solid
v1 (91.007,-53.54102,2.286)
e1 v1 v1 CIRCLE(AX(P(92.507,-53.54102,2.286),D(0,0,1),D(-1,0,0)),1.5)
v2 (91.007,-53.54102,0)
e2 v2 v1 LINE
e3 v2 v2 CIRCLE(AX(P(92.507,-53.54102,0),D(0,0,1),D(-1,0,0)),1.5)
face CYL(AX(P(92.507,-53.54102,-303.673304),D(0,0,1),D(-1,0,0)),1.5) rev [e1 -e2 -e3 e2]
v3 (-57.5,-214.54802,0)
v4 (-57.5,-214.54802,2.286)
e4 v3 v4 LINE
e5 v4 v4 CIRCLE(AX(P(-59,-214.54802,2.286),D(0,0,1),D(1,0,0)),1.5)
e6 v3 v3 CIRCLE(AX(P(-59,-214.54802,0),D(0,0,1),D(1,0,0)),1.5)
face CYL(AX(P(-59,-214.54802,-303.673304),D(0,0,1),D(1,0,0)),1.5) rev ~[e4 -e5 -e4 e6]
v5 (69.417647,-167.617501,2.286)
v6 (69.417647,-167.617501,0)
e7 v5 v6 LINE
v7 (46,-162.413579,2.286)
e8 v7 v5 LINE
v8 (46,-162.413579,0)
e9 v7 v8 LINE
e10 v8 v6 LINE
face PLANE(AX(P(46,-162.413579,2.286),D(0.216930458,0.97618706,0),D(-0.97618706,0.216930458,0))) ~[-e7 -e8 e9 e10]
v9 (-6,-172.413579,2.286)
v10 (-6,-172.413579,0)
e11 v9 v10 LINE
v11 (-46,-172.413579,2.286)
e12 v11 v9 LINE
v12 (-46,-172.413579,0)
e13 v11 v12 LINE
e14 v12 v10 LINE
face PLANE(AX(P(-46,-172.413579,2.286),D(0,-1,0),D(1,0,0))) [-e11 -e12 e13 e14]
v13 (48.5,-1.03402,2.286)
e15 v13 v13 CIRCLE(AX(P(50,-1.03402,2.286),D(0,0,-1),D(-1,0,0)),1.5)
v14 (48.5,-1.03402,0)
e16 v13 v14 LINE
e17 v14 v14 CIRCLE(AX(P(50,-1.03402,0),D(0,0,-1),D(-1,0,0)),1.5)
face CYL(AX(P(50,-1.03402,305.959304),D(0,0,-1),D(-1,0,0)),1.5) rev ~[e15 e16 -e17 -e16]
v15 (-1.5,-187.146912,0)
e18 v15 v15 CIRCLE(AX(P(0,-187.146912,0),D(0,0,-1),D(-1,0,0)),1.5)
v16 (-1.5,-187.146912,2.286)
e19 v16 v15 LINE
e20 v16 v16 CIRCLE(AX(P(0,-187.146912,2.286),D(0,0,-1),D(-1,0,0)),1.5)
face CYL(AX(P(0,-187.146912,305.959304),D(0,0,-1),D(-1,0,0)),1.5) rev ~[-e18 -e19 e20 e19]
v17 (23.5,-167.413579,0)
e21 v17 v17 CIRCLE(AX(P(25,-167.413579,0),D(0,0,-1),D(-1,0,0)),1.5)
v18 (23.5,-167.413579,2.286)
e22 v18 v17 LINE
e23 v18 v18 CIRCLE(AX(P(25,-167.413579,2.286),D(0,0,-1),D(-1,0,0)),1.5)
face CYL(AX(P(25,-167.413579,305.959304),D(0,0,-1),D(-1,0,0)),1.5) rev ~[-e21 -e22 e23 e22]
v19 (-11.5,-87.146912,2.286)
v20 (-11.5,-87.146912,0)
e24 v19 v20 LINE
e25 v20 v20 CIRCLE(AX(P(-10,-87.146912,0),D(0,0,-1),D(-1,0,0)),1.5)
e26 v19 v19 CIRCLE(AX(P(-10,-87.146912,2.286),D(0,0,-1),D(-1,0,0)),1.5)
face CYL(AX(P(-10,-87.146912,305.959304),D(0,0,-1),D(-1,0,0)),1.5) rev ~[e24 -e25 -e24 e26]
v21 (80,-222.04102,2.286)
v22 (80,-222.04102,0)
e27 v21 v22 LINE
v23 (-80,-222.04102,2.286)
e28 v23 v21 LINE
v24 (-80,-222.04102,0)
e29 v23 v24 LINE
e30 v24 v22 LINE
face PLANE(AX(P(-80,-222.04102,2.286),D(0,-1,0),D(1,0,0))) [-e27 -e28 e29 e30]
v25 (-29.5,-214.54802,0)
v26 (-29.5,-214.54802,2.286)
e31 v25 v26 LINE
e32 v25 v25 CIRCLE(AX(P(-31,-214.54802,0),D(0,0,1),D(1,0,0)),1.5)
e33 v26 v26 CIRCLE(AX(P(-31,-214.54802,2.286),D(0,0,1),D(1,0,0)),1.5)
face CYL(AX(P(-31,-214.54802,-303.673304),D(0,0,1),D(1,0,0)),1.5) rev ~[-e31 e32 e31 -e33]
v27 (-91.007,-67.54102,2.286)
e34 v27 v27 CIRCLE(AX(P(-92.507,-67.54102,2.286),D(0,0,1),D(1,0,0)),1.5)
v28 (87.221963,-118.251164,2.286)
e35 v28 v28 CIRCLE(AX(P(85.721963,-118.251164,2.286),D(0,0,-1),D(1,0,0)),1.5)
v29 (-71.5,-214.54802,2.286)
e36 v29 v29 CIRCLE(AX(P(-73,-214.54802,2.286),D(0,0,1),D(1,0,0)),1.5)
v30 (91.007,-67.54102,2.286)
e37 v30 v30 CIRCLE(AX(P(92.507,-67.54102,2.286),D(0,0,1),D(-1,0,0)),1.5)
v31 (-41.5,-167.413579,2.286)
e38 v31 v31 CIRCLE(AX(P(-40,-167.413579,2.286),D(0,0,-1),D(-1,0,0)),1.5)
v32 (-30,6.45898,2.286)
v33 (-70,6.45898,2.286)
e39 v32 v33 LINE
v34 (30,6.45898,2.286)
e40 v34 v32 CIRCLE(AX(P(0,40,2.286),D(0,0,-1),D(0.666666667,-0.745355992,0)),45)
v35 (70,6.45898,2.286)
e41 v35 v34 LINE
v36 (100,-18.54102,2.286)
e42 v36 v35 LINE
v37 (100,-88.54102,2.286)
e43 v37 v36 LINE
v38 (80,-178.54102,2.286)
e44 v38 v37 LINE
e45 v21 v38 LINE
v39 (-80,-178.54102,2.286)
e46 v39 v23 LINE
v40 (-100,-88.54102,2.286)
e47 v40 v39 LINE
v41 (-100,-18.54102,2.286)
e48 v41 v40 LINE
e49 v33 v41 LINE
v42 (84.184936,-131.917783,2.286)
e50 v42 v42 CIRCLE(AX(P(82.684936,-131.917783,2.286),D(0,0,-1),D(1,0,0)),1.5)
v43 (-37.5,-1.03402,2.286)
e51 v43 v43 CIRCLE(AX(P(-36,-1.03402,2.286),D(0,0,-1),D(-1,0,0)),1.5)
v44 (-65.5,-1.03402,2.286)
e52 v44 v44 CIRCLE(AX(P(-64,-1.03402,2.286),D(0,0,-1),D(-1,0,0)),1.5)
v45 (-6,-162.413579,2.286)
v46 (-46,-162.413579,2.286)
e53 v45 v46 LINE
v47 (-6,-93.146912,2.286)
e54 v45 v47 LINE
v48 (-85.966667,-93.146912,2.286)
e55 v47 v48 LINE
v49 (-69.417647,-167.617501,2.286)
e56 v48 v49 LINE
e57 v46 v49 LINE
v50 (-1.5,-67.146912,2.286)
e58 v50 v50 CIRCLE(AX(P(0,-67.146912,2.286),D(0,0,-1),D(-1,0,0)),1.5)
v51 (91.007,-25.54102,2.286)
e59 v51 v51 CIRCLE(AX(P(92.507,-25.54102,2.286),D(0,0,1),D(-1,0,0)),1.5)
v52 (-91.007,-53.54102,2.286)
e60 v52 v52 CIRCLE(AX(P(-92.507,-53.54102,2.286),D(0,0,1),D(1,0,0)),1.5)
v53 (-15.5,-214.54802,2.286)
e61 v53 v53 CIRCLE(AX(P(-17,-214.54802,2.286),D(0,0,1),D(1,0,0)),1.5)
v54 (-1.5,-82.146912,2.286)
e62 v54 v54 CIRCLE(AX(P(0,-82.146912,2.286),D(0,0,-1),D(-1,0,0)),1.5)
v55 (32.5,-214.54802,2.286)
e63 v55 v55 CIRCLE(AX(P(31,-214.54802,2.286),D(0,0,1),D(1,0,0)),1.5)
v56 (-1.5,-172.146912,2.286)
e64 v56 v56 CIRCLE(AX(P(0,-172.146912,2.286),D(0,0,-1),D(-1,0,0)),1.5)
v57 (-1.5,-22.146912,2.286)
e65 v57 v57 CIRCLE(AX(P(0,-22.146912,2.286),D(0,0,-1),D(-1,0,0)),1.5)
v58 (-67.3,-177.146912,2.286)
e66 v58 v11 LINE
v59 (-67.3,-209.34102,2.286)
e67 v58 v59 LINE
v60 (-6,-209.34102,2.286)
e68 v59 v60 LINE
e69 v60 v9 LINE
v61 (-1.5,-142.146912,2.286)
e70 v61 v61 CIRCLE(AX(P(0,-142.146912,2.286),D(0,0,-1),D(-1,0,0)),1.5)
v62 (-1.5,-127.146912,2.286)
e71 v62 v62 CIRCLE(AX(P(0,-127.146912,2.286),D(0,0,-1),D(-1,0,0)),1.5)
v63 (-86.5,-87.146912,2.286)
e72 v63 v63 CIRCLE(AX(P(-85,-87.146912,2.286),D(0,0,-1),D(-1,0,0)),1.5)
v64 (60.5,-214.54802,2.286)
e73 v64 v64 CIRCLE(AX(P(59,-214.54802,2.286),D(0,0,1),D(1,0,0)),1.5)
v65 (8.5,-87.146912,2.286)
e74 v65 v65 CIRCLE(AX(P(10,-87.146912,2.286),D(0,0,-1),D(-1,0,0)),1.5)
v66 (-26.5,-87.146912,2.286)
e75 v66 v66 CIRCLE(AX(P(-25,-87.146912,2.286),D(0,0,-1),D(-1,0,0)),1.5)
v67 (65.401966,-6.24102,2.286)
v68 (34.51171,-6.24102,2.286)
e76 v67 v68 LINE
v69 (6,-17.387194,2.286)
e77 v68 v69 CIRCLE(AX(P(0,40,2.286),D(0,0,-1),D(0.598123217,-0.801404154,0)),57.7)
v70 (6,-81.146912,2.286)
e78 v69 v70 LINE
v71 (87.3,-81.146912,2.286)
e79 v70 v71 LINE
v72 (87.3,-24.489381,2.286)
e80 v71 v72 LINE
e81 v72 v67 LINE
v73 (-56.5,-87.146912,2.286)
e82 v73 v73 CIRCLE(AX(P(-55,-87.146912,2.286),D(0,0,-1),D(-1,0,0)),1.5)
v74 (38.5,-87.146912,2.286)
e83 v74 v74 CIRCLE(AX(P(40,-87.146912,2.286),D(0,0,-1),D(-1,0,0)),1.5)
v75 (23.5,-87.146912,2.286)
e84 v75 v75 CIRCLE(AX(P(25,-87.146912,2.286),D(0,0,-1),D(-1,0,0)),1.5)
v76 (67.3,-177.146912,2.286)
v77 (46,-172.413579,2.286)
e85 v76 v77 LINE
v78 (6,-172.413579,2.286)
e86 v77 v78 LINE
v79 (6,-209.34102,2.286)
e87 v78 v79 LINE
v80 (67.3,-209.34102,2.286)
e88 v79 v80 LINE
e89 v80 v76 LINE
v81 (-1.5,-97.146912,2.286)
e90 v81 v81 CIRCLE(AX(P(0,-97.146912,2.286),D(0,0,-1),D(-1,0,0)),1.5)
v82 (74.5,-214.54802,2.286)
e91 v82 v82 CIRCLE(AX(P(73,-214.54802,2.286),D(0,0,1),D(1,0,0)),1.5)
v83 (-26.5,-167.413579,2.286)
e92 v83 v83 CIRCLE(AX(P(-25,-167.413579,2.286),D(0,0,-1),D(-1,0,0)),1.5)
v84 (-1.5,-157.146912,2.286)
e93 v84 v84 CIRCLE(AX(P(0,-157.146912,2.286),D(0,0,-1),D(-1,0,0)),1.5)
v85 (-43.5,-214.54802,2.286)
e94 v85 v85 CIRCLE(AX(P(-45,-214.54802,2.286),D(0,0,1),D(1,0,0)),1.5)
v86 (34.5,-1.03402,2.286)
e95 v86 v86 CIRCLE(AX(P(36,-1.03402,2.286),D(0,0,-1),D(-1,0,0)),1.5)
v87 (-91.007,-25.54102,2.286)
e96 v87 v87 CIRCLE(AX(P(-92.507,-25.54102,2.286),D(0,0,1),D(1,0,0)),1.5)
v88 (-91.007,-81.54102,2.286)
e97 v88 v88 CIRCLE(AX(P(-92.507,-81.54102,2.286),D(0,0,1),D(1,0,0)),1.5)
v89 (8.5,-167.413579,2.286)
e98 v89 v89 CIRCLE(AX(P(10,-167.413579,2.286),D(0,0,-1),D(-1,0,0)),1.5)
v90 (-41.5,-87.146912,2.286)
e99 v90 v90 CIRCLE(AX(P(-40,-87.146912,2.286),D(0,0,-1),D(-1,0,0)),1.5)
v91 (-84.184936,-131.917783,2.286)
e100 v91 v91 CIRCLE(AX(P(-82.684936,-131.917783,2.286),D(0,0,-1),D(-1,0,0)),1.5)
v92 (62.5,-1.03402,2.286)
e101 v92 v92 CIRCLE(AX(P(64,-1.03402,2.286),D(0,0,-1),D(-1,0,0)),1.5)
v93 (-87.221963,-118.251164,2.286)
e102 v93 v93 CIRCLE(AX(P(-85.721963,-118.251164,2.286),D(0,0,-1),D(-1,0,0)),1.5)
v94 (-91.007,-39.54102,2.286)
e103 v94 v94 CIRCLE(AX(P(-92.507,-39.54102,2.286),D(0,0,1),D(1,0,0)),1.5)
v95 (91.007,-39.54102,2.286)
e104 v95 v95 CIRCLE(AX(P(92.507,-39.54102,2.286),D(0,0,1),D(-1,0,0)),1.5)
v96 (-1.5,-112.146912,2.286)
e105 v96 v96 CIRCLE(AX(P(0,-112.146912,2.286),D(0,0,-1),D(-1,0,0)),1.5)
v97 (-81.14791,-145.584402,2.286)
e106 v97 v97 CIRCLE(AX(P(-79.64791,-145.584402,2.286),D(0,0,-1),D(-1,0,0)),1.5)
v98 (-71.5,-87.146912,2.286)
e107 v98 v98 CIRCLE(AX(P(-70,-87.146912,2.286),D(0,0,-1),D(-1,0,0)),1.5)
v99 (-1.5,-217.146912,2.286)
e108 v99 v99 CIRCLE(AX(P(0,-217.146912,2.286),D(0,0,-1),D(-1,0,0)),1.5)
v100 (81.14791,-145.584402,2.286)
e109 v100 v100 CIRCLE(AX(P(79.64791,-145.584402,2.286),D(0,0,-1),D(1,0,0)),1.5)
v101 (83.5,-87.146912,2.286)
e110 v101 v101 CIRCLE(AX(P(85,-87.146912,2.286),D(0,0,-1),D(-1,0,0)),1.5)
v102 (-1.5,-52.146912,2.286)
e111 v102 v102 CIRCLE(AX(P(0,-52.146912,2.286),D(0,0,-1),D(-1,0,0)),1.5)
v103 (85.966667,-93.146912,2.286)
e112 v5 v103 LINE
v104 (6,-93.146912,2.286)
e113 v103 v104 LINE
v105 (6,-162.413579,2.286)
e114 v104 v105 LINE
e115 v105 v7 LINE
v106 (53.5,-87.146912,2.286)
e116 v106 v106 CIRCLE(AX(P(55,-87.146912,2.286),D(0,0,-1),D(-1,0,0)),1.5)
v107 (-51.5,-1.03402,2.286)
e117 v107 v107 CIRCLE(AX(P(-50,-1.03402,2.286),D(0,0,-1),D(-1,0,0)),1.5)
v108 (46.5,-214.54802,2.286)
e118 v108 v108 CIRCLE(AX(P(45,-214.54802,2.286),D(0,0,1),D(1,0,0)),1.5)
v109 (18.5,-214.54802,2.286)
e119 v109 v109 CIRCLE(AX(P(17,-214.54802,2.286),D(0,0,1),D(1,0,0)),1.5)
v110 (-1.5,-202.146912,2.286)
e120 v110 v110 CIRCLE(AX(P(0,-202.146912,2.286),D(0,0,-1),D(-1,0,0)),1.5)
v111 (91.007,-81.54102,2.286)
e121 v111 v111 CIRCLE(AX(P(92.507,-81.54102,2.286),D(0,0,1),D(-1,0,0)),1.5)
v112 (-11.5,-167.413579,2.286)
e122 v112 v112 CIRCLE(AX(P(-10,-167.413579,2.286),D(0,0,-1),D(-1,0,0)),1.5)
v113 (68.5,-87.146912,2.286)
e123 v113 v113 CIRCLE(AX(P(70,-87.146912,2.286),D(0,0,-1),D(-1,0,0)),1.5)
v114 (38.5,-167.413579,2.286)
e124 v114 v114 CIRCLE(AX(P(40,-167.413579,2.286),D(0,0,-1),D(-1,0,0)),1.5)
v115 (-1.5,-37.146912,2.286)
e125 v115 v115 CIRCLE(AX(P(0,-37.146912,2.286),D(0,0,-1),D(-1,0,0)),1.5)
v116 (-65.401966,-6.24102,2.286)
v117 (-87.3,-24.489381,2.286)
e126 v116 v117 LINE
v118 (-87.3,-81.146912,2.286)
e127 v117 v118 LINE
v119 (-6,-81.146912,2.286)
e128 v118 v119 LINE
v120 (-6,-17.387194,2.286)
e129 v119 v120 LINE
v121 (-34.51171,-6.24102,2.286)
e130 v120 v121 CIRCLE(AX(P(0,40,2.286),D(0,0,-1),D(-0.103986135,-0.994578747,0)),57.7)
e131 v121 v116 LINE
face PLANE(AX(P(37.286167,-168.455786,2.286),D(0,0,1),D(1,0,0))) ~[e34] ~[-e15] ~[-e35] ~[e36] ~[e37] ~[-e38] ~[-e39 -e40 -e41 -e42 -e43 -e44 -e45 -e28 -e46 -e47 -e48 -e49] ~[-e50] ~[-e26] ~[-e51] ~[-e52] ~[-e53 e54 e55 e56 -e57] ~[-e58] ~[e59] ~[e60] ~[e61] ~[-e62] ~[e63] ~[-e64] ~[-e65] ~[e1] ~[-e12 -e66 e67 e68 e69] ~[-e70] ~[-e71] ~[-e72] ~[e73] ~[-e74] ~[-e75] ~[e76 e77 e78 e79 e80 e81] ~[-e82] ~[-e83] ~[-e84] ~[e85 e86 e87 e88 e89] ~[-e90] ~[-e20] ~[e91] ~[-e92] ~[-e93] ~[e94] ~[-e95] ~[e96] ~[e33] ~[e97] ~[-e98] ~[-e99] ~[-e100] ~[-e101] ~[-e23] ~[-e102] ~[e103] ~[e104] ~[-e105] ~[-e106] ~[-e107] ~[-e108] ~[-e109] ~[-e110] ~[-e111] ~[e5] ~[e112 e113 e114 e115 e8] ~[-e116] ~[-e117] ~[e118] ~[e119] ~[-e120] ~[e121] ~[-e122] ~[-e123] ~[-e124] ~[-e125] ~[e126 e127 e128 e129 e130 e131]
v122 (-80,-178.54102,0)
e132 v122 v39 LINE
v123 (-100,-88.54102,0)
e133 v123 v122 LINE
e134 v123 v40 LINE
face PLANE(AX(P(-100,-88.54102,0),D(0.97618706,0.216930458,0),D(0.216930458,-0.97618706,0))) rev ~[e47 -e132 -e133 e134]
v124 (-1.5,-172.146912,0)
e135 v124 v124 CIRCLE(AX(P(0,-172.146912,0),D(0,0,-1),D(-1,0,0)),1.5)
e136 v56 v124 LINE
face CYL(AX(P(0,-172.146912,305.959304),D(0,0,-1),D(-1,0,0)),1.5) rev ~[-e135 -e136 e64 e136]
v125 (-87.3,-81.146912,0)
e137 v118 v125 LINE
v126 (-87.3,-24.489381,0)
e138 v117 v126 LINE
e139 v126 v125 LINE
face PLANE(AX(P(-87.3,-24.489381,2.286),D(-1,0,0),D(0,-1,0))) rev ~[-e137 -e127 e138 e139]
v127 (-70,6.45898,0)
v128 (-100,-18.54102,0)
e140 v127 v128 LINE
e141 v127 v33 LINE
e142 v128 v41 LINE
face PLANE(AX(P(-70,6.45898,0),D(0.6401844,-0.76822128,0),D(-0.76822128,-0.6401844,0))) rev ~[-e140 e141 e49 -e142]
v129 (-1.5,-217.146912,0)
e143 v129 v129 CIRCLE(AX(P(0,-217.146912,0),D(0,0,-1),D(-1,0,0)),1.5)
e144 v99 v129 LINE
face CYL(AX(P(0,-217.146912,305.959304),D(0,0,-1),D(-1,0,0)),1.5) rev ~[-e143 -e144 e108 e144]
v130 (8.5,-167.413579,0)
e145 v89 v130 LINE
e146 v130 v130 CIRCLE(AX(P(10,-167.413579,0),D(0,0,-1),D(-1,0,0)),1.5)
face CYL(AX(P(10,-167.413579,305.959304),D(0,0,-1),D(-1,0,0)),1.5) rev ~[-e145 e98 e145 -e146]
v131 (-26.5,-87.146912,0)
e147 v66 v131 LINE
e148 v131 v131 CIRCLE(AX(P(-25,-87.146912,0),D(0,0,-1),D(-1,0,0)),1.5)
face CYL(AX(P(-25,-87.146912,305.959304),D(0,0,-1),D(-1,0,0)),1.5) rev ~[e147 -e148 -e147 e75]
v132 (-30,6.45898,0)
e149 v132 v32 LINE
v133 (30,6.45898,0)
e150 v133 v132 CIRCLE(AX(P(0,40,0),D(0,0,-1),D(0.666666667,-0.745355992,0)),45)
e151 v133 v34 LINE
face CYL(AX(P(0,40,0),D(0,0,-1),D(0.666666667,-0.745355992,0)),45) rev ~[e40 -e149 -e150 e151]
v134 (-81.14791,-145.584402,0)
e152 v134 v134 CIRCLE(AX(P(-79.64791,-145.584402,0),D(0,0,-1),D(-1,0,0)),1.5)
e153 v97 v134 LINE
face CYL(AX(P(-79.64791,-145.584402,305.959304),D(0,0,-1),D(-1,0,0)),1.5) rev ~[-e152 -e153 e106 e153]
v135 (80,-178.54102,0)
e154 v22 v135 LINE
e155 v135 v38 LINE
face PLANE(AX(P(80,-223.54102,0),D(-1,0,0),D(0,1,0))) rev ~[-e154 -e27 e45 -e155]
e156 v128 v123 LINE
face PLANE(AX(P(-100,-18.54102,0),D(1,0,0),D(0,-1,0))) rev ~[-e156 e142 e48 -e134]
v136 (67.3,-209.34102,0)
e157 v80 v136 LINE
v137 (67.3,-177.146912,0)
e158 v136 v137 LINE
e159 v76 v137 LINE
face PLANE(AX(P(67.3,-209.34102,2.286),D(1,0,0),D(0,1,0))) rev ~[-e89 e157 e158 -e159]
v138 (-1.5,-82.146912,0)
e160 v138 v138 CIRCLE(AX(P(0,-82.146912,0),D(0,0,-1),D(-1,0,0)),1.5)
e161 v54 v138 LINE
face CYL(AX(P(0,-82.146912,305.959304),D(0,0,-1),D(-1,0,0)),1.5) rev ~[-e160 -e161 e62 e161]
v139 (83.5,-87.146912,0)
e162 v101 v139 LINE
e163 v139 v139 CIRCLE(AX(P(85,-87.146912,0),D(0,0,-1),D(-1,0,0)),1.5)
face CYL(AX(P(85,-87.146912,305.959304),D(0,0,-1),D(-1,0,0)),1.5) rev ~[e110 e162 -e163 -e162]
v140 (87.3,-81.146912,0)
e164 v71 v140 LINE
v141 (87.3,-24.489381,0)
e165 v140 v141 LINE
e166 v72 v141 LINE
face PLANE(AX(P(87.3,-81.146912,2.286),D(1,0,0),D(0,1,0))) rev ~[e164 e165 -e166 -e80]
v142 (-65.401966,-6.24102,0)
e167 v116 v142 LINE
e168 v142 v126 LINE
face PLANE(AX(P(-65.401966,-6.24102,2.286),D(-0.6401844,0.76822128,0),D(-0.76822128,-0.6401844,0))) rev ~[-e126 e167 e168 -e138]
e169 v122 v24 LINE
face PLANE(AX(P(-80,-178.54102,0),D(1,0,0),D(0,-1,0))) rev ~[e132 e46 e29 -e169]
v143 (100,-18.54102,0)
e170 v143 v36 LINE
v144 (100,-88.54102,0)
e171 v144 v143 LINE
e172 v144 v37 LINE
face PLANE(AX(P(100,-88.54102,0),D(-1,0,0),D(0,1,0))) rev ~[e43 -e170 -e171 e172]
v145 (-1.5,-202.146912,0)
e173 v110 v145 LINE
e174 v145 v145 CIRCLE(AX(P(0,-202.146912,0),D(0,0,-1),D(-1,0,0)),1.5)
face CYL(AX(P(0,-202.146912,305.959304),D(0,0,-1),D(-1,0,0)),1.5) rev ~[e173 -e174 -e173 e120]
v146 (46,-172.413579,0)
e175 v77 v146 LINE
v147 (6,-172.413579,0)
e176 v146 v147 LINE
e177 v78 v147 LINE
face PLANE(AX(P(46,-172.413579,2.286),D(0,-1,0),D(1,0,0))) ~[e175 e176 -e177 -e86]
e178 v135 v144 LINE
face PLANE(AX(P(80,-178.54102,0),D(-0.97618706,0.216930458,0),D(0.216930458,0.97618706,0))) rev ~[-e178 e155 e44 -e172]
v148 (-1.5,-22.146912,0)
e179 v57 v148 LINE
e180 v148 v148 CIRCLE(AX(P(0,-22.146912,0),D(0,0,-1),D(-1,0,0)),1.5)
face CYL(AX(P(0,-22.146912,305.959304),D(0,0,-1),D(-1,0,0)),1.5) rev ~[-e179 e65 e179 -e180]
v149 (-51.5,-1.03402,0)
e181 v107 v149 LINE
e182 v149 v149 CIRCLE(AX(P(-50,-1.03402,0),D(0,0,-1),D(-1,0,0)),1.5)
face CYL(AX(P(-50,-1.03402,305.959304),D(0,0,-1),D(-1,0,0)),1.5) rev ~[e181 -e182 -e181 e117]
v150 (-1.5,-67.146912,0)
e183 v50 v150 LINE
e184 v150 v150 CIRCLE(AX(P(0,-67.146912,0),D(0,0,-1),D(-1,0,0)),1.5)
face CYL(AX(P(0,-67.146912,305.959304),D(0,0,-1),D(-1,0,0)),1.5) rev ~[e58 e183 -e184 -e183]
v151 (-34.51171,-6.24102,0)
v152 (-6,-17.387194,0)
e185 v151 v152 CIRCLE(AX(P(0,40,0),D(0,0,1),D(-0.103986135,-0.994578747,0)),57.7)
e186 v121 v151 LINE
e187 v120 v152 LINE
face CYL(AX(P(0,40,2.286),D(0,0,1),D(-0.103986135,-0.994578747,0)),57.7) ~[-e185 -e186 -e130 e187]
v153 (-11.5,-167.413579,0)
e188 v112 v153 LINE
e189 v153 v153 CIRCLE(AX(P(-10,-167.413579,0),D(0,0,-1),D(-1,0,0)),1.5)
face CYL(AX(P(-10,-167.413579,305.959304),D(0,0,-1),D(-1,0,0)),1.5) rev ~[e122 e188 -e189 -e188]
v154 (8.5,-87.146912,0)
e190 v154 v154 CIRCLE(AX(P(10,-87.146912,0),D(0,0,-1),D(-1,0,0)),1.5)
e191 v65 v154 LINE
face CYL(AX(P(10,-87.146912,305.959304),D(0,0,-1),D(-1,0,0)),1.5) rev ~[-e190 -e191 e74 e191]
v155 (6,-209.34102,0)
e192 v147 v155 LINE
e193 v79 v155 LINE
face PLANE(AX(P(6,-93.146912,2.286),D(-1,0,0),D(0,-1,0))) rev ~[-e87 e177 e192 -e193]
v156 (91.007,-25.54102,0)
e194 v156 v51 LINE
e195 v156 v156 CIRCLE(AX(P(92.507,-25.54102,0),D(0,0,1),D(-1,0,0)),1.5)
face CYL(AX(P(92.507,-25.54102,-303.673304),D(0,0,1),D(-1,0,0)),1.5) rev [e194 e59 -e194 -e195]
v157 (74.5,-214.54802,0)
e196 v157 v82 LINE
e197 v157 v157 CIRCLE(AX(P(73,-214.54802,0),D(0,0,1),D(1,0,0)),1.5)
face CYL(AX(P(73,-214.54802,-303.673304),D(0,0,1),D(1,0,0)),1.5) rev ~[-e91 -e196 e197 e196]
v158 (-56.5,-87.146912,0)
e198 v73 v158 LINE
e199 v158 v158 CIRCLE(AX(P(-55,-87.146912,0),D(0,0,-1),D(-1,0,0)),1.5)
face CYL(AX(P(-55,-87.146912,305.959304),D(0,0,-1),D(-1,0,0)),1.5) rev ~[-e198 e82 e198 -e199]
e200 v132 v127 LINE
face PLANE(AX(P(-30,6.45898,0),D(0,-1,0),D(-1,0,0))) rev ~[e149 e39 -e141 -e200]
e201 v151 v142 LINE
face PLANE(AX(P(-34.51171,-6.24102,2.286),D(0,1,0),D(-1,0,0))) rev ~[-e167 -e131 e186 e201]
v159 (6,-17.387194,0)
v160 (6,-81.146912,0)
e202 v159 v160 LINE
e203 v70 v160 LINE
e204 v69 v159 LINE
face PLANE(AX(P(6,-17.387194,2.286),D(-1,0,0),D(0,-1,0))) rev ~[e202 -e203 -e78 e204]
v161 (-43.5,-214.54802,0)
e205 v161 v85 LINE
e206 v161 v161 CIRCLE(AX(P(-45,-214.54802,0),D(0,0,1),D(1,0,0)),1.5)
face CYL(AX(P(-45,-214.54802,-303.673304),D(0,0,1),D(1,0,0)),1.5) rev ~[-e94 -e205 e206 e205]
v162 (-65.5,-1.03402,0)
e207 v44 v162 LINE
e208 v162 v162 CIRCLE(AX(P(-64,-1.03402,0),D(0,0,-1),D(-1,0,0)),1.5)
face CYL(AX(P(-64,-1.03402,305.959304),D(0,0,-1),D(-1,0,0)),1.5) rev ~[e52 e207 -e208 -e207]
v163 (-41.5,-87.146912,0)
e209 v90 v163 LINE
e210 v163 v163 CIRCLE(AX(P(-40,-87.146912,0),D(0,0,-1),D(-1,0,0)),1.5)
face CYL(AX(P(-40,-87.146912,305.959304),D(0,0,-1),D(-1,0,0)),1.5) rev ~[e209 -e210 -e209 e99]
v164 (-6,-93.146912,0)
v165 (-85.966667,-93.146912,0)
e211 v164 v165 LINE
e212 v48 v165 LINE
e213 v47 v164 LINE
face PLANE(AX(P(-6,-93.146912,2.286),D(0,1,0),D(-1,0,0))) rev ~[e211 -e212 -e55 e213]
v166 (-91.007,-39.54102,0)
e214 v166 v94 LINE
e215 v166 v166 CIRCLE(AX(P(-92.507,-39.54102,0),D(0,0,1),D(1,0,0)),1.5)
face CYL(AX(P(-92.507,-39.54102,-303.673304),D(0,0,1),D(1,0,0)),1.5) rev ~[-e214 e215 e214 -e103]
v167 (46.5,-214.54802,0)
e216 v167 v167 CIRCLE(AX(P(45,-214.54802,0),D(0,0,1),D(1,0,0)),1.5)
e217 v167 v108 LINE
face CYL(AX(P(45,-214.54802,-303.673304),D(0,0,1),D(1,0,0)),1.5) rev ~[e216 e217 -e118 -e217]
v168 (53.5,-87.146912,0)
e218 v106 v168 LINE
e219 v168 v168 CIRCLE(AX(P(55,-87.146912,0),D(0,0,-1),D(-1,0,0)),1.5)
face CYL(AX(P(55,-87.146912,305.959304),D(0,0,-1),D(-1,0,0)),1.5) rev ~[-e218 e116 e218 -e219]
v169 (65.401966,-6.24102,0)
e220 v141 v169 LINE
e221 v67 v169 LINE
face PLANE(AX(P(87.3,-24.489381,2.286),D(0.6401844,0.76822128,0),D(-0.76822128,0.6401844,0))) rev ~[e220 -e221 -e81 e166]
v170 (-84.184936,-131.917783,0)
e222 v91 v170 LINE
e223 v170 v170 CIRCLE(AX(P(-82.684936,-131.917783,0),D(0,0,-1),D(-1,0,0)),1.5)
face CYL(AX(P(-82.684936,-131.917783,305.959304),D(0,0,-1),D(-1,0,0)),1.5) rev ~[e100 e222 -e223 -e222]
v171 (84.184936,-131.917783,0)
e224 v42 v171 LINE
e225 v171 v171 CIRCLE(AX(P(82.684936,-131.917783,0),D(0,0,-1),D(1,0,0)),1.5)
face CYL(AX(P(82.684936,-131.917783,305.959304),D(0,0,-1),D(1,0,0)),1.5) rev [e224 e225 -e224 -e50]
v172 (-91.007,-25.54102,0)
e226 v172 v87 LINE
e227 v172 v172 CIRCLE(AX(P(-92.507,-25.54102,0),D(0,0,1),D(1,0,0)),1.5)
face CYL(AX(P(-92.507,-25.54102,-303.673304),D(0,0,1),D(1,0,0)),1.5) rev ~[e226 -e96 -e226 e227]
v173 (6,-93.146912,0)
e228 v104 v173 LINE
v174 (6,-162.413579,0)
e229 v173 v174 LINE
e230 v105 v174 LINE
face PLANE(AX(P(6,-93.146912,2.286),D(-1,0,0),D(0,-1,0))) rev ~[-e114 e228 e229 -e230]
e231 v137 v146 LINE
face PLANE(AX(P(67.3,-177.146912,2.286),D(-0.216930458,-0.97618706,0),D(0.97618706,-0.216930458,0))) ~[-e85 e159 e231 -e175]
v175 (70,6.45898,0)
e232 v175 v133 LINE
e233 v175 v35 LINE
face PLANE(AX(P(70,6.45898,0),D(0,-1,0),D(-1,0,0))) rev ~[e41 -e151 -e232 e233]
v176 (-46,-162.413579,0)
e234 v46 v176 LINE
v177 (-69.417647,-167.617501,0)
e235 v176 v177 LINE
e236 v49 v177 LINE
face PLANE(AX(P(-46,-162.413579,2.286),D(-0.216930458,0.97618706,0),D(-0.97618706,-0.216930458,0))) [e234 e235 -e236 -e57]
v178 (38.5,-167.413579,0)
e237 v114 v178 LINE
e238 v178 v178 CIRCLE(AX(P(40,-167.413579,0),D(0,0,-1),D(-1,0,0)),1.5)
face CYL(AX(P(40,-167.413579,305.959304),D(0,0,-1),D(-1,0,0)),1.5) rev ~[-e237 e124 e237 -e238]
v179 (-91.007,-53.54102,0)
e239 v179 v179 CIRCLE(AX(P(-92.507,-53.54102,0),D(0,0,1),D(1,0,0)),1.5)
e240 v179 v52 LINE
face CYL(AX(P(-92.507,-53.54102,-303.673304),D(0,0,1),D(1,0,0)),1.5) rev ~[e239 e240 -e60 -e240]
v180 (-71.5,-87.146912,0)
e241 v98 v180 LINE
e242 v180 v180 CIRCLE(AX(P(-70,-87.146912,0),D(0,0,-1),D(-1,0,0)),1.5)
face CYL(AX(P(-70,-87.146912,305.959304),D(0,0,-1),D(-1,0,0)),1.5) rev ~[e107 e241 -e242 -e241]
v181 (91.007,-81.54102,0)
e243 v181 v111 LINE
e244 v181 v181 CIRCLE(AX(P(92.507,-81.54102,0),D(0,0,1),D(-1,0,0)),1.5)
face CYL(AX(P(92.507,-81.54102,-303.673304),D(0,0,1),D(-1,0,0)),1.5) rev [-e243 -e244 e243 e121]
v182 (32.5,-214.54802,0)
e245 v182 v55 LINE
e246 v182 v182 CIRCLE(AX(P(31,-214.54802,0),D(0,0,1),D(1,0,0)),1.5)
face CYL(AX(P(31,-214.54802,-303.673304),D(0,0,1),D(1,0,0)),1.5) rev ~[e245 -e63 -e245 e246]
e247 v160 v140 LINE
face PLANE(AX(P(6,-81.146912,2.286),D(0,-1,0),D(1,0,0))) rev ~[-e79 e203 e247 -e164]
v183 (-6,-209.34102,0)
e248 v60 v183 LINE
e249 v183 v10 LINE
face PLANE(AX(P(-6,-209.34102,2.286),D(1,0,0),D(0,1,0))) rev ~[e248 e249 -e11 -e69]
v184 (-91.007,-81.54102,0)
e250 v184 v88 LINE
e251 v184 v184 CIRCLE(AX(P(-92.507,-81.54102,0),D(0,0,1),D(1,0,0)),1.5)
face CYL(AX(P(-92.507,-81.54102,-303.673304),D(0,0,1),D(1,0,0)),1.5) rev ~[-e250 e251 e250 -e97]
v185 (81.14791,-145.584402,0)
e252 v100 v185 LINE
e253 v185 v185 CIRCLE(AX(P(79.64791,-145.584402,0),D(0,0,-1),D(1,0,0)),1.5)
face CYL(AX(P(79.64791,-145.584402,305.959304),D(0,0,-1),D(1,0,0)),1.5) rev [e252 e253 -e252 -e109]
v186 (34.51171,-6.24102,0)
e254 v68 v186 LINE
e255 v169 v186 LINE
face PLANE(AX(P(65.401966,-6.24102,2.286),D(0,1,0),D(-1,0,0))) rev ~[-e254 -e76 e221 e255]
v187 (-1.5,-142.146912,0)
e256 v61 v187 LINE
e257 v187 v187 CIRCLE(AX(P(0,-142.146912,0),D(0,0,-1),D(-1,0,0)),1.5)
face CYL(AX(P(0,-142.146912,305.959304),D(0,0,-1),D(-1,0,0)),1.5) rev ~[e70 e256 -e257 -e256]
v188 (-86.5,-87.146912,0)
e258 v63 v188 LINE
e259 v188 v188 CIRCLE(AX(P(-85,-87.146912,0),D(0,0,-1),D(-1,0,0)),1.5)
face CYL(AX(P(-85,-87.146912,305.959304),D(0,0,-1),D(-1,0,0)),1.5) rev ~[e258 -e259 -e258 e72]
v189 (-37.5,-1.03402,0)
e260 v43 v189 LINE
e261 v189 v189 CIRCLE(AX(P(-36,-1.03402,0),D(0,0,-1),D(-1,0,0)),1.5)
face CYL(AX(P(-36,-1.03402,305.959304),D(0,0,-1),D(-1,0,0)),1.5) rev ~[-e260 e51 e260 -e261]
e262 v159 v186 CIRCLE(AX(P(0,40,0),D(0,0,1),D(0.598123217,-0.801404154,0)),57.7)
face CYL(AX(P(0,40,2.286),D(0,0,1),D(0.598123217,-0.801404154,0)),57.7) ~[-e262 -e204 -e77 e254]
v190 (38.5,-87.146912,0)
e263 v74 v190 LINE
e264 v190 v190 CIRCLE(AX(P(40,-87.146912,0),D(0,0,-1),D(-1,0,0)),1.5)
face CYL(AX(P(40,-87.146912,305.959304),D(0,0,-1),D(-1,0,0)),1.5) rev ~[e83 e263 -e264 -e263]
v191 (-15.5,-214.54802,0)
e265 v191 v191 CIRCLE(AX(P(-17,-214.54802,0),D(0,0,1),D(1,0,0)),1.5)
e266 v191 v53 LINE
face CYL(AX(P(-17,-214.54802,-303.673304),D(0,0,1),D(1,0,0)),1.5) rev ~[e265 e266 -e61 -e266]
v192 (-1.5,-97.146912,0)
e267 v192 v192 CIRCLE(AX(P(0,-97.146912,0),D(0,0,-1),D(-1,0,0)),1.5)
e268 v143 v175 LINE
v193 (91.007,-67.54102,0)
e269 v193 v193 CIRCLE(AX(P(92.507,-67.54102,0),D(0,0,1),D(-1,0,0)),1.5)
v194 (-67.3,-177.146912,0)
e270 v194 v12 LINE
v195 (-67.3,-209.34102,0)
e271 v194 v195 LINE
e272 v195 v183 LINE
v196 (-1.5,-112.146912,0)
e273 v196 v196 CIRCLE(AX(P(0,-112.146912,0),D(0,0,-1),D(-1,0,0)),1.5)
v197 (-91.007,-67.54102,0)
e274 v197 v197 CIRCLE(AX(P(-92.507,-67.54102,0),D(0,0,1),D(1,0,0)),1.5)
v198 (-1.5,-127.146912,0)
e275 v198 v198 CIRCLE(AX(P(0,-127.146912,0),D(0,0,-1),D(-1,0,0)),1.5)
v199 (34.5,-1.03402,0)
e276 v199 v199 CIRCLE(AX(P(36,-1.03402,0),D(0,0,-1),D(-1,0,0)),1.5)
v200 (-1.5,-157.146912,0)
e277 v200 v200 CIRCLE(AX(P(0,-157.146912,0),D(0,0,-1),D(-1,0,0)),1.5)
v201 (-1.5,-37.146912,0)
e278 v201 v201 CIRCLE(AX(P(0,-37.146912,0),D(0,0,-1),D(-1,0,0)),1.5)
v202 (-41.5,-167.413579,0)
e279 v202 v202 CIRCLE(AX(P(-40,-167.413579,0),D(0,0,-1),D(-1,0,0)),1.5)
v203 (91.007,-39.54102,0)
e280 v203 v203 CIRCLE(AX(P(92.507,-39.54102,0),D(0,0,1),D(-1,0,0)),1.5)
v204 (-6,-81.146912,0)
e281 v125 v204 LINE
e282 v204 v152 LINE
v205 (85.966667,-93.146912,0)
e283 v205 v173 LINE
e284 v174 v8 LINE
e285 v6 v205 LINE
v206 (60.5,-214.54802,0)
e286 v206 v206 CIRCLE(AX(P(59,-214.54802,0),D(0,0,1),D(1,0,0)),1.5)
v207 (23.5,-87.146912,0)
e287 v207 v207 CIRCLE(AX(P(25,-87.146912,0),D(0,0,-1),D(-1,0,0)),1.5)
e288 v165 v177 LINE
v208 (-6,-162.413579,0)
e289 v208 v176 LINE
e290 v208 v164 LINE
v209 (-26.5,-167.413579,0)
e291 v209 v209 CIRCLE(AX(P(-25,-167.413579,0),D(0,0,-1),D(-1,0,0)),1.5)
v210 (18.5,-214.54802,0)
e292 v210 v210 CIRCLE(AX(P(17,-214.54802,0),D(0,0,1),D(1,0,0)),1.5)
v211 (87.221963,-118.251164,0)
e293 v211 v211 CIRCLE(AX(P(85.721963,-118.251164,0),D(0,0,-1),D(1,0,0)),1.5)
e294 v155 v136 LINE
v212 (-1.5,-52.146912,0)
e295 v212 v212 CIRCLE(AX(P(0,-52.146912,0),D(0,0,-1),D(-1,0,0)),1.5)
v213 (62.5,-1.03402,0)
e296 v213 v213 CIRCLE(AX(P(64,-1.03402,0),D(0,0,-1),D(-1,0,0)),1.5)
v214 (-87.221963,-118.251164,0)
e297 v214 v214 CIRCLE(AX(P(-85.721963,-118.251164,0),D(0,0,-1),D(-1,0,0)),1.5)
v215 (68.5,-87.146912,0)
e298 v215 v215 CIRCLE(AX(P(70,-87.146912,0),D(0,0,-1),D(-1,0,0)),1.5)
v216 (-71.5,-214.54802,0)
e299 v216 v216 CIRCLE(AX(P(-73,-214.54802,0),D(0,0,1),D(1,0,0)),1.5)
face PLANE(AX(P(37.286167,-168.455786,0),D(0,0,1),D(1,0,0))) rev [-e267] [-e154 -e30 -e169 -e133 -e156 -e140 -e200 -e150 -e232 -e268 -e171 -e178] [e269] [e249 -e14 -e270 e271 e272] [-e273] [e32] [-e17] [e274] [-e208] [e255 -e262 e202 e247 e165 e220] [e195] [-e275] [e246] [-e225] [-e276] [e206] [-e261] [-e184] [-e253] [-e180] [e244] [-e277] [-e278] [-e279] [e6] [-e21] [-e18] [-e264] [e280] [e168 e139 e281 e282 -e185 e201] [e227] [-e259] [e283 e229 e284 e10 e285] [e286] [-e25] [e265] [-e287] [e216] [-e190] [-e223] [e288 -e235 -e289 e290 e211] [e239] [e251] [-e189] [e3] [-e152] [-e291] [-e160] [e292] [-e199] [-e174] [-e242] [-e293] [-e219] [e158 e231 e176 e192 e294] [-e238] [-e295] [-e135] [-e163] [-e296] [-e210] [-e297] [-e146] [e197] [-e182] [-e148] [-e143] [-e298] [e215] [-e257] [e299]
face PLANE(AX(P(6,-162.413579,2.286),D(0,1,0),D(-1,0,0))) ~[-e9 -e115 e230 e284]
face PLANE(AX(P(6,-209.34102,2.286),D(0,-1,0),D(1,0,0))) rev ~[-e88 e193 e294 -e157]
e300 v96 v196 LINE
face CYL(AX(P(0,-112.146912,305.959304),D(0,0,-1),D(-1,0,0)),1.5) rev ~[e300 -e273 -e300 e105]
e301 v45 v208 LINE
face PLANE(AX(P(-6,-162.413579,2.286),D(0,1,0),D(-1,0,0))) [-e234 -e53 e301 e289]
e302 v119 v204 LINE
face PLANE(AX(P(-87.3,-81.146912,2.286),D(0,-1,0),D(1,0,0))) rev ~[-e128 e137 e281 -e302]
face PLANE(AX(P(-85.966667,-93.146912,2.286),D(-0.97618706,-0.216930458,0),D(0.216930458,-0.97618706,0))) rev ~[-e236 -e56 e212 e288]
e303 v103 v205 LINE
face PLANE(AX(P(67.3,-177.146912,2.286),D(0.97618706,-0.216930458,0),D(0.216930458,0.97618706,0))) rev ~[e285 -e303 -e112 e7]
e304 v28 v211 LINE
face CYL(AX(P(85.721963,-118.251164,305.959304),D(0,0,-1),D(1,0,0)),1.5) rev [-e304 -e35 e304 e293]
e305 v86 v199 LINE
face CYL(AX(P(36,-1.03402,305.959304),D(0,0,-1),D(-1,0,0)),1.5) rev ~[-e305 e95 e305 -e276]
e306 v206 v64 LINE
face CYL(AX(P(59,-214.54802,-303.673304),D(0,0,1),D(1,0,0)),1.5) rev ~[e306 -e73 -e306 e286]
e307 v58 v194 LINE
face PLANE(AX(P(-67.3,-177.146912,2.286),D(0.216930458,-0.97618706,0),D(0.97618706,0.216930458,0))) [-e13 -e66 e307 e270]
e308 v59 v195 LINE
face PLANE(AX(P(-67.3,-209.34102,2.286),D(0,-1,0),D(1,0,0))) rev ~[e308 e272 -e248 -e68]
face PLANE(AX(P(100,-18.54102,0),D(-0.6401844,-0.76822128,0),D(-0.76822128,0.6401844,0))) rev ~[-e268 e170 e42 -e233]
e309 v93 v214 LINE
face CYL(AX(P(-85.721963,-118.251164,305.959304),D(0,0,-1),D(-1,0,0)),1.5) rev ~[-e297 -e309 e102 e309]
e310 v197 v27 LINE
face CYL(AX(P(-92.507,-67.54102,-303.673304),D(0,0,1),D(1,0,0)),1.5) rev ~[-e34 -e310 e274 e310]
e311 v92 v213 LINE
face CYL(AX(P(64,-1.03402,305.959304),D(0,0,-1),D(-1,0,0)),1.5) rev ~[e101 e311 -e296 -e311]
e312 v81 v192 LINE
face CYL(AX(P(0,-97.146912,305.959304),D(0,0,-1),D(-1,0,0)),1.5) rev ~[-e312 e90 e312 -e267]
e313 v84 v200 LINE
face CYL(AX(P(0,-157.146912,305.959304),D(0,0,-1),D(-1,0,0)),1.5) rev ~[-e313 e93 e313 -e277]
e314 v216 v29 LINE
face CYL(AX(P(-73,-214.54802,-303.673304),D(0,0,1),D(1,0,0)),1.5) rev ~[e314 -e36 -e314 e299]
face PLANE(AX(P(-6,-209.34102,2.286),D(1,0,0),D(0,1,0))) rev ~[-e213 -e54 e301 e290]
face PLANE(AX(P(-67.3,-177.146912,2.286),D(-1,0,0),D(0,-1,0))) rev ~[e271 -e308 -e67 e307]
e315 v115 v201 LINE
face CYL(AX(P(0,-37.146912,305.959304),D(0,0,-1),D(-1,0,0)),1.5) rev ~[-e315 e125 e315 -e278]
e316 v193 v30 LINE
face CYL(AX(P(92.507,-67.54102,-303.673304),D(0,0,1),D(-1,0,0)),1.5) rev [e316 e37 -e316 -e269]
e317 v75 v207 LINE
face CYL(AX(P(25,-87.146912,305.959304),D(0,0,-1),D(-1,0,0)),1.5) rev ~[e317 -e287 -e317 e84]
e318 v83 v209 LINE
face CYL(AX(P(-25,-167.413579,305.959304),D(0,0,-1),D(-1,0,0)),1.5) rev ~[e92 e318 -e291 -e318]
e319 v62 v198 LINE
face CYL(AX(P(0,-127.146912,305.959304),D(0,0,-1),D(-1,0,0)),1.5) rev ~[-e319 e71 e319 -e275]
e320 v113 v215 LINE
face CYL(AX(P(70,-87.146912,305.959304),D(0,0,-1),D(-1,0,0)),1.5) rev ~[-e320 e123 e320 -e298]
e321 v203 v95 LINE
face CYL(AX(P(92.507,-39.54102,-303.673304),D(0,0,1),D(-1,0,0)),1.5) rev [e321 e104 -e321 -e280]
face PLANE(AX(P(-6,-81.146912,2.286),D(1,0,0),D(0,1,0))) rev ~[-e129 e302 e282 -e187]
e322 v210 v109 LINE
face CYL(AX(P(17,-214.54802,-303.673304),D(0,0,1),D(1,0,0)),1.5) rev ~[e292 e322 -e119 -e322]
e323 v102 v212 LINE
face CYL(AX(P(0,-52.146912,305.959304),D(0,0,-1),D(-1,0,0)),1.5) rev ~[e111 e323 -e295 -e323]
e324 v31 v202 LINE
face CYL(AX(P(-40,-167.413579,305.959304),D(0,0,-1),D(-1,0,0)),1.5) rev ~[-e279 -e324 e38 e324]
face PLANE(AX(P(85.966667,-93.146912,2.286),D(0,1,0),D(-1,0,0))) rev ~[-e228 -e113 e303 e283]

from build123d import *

# Parameters (mm, degrees)
BOSS_EXTRUDE1_DEPTH    = 2.286
SKETCH8_W              = 160
SKETCH8_H              = 1.5
CUT_EXTRUDE3_DEPTH     = 10
CUT_EXTRUDE4_DEPTH     = 3.286
BOSS_EXTRUDE2_DEPTH    = 2.286
F_3_0MM_DOWEL_HOLE4_D  = 3
F_3_0MM_DOWEL_HOLE5_D  = 3
F_3_0MM_DOWEL_HOLE6_D  = 3
F_3_0MM_DOWEL_HOLE7_D  = 3
F_3_0MM_DOWEL_HOLE8_D  = 3
F_3_0MM_DOWEL_HOLE9_D  = 3
F_3_0MM_DOWEL_HOLE10_D = 3


with BuildPart() as part:
    # Sketch1 → Boss-Extrude1 (new body)
    with BuildSketch(Plane.XY):
        with BuildLine():
            Line((-30, 6.458980338), (-70, 6.458980338))
            Line((-70, 6.458980338), (-100, -18.541019662))
            Line((-100, -18.541019662), (-100, -88.541019662))
            Line((-100, -88.541019662), (-80, -178.541019662))
            Line((-80, -178.541019662), (-80, -223.541019662))
            Line((-80, -223.541019662), (80, -223.541019662))
            Line((80, -223.541019662), (80, -178.541019662))
            Line((80, -178.541019662), (100, -88.541019662))
            Line((100, -88.541019662), (100, -18.541019662))
            Line((100, -18.541019662), (70, 6.458980338))
            Line((70, 6.458980338), (30, 6.458980338))
            ThreePointArc((30, 6.458980338), (0, -5), (-30, 6.458980338))
        make_face()
    extrude(amount=BOSS_EXTRUDE1_DEPTH)

    # Sketch8 → Cut-Extrude3 (cut)
    with BuildSketch(Plane.XY.offset(2.286)):
        with Locations((0, -222.791019662)):
            Rectangle(SKETCH8_W, SKETCH8_H)
    extrude(amount=-CUT_EXTRUDE3_DEPTH, mode=Mode.SUBTRACT)

    # Sketch15 → Cut-Extrude4 (cut, through all)
    with BuildSketch(Plane.XY.offset(2.286)):
        with BuildLine():
            Line((-87.3, -24.489381476), (-87.3, -81.146912359))
            Line((-87.3, -81.146912359), (-6, -81.146912359))
            Line((-6, -81.146912359), (-6, -17.387193693))
            ThreePointArc((-6, -17.387193693), (-21.008544759, -13.739473826), (-34.511709615, -6.241019662))
            Line((-34.511709615, -6.241019662), (-65.401965823, -6.241019662))
            Line((-65.401965823, -6.241019662), (-87.3, -24.489381476))
        make_face()
        with BuildLine():
            Line((6, -81.146912359), (87.3, -81.146912359))
            Line((87.3, -81.146912359), (87.3, -24.489381476))
            Line((87.3, -24.489381476), (65.401965823, -6.241019662))
            Line((65.401965823, -6.241019662), (34.511709615, -6.241019662))
            ThreePointArc((34.511709615, -6.241019662), (21.008544759, -13.739473826), (6, -17.387193693))
            Line((6, -17.387193693), (6, -81.146912359))
        make_face()
        Polygon((-67.3, -209.341019662), (-6, -209.341019662), (-6, -93.146912359), (-85.966666667, -93.146912359), (-67.3, -177.146912359), align=None)
        Polygon((6, -93.146912359), (6, -209.341019662), (67.3, -209.341019662), (67.3, -177.146912359), (85.966666667, -93.146912359), align=None)
    extrude(amount=-CUT_EXTRUDE4_DEPTH, mode=Mode.SUBTRACT)

    # Sketch16 → Boss-Extrude2 (add)
    with BuildSketch(Plane.XY.offset(2.286)):
        Polygon((-67.3, -177.146912359), (-46, -172.413579025), (-6, -172.413579025), (-6, -162.413579025), (-46, -162.413579025), (-69.417647059, -167.617500594), align=None)
    boss_extrude2 = extrude(amount=-BOSS_EXTRUDE2_DEPTH)

    # Mirror1: Boss-Extrude2 across plane
    add(boss_extrude2.mirror(Plane(origin=(0, 0, 0), x_dir=(0, 0, 1), z_dir=(1, 0, 0))))

    # Ø3.0mm Dowel Hole4 (through all)
    with Locations(Plane.XY.offset(2.286)):
        with Locations((-85, -87.146912359), (-70, -87.146912359), (-55, -87.146912359), (-40, -87.146912359), (-25, -87.146912359), (-10, -87.146912359), (10, -87.146912359), (25, -87.146912359), (40, -87.146912359), (55, -87.146912359), (70, -87.146912359), (85, -87.146912359)):
            Hole(F_3_0MM_DOWEL_HOLE4_D / 2)

    # Ø3.0mm Dowel Hole5 (through all)
    with Locations(Plane.XY.offset(2.286)):
        with Locations((0, -22.146912359), (0, -37.146912359), (0, -52.146912359), (0, -67.146912359), (0, -82.146912359), (0, -97.146912359), (0, -112.146912359), (0, -127.146912359), (0, -142.146912359), (0, -157.146912359), (0, -172.146912359), (0, -187.146912359), (0, -202.146912359), (0, -217.146912359)):
            Hole(F_3_0MM_DOWEL_HOLE5_D / 2)

    # Ø3.0mm Dowel Hole6 (through all)
    with Locations(Plane.XY.offset(2.286)):
        with Locations((-40, -167.413579025), (-25, -167.413579025), (-10, -167.413579025), (10, -167.413579025), (25, -167.413579025), (40, -167.413579025)):
            Hole(F_3_0MM_DOWEL_HOLE6_D / 2)

    # Ø3.0mm Dowel Hole7 (through all)
    with Locations(Plane(origin=(0, 0, 0), x_dir=(-1, 0, 0), z_dir=(0, 0, -1))):
        with Locations((92.507, -25.541019662), (92.507, -39.541019662), (92.507, -53.541019662), (92.507, -67.541019662), (92.507, -81.541019662)):
            f_3_0mm_dowel_hole7 = Hole(F_3_0MM_DOWEL_HOLE7_D / 2)

    # Mirror2: Ø3.0mm Dowel Hole7 across plane
    add(f_3_0mm_dowel_hole7.mirror(Plane(origin=(0, 0, 0), x_dir=(0, 0, 1), z_dir=(1, 0, 0))), mode=Mode.SUBTRACT)

    # Ø3.0mm Dowel Hole8 (through all)
    with Locations(Plane(origin=(0, 0, 0), x_dir=(-1, 0, 0), z_dir=(0, 0, -1))):
        with Locations((-73, -214.548019662), (-59, -214.548019662), (-45, -214.548019662), (-31, -214.548019662), (-17, -214.548019662), (17, -214.548019662), (31, -214.548019662), (45, -214.548019662), (59, -214.548019662), (73, -214.548019662)):
            Hole(F_3_0MM_DOWEL_HOLE8_D / 2)

    # Ø3.0mm Dowel Hole9 (through all)
    with Locations(Plane.XY.offset(2.286)):
        with Locations((-64, -1.034019662), (-50, -1.034019662), (-36, -1.034019662), (36, -1.034019662), (50, -1.034019662), (64, -1.034019662)):
            Hole(F_3_0MM_DOWEL_HOLE9_D / 2)

    # Ø3.0mm Dowel Hole10 (through all)
    with Locations(Plane.XY.offset(2.286)):
        with Locations((-85.721962662, -118.251164374), (-82.684936253, -131.917783217), (-79.647909843, -145.584402059)):
            f_3_0mm_dowel_hole10 = Hole(F_3_0MM_DOWEL_HOLE10_D / 2)

    # Mirror3: Ø3.0mm Dowel Hole10 across plane
    add(f_3_0mm_dowel_hole10.mirror(Plane(origin=(0, 0, 0), x_dir=(0, 0, 1), z_dir=(1, 0, 0))), mode=Mode.SUBTRACT)


solid = part.part
